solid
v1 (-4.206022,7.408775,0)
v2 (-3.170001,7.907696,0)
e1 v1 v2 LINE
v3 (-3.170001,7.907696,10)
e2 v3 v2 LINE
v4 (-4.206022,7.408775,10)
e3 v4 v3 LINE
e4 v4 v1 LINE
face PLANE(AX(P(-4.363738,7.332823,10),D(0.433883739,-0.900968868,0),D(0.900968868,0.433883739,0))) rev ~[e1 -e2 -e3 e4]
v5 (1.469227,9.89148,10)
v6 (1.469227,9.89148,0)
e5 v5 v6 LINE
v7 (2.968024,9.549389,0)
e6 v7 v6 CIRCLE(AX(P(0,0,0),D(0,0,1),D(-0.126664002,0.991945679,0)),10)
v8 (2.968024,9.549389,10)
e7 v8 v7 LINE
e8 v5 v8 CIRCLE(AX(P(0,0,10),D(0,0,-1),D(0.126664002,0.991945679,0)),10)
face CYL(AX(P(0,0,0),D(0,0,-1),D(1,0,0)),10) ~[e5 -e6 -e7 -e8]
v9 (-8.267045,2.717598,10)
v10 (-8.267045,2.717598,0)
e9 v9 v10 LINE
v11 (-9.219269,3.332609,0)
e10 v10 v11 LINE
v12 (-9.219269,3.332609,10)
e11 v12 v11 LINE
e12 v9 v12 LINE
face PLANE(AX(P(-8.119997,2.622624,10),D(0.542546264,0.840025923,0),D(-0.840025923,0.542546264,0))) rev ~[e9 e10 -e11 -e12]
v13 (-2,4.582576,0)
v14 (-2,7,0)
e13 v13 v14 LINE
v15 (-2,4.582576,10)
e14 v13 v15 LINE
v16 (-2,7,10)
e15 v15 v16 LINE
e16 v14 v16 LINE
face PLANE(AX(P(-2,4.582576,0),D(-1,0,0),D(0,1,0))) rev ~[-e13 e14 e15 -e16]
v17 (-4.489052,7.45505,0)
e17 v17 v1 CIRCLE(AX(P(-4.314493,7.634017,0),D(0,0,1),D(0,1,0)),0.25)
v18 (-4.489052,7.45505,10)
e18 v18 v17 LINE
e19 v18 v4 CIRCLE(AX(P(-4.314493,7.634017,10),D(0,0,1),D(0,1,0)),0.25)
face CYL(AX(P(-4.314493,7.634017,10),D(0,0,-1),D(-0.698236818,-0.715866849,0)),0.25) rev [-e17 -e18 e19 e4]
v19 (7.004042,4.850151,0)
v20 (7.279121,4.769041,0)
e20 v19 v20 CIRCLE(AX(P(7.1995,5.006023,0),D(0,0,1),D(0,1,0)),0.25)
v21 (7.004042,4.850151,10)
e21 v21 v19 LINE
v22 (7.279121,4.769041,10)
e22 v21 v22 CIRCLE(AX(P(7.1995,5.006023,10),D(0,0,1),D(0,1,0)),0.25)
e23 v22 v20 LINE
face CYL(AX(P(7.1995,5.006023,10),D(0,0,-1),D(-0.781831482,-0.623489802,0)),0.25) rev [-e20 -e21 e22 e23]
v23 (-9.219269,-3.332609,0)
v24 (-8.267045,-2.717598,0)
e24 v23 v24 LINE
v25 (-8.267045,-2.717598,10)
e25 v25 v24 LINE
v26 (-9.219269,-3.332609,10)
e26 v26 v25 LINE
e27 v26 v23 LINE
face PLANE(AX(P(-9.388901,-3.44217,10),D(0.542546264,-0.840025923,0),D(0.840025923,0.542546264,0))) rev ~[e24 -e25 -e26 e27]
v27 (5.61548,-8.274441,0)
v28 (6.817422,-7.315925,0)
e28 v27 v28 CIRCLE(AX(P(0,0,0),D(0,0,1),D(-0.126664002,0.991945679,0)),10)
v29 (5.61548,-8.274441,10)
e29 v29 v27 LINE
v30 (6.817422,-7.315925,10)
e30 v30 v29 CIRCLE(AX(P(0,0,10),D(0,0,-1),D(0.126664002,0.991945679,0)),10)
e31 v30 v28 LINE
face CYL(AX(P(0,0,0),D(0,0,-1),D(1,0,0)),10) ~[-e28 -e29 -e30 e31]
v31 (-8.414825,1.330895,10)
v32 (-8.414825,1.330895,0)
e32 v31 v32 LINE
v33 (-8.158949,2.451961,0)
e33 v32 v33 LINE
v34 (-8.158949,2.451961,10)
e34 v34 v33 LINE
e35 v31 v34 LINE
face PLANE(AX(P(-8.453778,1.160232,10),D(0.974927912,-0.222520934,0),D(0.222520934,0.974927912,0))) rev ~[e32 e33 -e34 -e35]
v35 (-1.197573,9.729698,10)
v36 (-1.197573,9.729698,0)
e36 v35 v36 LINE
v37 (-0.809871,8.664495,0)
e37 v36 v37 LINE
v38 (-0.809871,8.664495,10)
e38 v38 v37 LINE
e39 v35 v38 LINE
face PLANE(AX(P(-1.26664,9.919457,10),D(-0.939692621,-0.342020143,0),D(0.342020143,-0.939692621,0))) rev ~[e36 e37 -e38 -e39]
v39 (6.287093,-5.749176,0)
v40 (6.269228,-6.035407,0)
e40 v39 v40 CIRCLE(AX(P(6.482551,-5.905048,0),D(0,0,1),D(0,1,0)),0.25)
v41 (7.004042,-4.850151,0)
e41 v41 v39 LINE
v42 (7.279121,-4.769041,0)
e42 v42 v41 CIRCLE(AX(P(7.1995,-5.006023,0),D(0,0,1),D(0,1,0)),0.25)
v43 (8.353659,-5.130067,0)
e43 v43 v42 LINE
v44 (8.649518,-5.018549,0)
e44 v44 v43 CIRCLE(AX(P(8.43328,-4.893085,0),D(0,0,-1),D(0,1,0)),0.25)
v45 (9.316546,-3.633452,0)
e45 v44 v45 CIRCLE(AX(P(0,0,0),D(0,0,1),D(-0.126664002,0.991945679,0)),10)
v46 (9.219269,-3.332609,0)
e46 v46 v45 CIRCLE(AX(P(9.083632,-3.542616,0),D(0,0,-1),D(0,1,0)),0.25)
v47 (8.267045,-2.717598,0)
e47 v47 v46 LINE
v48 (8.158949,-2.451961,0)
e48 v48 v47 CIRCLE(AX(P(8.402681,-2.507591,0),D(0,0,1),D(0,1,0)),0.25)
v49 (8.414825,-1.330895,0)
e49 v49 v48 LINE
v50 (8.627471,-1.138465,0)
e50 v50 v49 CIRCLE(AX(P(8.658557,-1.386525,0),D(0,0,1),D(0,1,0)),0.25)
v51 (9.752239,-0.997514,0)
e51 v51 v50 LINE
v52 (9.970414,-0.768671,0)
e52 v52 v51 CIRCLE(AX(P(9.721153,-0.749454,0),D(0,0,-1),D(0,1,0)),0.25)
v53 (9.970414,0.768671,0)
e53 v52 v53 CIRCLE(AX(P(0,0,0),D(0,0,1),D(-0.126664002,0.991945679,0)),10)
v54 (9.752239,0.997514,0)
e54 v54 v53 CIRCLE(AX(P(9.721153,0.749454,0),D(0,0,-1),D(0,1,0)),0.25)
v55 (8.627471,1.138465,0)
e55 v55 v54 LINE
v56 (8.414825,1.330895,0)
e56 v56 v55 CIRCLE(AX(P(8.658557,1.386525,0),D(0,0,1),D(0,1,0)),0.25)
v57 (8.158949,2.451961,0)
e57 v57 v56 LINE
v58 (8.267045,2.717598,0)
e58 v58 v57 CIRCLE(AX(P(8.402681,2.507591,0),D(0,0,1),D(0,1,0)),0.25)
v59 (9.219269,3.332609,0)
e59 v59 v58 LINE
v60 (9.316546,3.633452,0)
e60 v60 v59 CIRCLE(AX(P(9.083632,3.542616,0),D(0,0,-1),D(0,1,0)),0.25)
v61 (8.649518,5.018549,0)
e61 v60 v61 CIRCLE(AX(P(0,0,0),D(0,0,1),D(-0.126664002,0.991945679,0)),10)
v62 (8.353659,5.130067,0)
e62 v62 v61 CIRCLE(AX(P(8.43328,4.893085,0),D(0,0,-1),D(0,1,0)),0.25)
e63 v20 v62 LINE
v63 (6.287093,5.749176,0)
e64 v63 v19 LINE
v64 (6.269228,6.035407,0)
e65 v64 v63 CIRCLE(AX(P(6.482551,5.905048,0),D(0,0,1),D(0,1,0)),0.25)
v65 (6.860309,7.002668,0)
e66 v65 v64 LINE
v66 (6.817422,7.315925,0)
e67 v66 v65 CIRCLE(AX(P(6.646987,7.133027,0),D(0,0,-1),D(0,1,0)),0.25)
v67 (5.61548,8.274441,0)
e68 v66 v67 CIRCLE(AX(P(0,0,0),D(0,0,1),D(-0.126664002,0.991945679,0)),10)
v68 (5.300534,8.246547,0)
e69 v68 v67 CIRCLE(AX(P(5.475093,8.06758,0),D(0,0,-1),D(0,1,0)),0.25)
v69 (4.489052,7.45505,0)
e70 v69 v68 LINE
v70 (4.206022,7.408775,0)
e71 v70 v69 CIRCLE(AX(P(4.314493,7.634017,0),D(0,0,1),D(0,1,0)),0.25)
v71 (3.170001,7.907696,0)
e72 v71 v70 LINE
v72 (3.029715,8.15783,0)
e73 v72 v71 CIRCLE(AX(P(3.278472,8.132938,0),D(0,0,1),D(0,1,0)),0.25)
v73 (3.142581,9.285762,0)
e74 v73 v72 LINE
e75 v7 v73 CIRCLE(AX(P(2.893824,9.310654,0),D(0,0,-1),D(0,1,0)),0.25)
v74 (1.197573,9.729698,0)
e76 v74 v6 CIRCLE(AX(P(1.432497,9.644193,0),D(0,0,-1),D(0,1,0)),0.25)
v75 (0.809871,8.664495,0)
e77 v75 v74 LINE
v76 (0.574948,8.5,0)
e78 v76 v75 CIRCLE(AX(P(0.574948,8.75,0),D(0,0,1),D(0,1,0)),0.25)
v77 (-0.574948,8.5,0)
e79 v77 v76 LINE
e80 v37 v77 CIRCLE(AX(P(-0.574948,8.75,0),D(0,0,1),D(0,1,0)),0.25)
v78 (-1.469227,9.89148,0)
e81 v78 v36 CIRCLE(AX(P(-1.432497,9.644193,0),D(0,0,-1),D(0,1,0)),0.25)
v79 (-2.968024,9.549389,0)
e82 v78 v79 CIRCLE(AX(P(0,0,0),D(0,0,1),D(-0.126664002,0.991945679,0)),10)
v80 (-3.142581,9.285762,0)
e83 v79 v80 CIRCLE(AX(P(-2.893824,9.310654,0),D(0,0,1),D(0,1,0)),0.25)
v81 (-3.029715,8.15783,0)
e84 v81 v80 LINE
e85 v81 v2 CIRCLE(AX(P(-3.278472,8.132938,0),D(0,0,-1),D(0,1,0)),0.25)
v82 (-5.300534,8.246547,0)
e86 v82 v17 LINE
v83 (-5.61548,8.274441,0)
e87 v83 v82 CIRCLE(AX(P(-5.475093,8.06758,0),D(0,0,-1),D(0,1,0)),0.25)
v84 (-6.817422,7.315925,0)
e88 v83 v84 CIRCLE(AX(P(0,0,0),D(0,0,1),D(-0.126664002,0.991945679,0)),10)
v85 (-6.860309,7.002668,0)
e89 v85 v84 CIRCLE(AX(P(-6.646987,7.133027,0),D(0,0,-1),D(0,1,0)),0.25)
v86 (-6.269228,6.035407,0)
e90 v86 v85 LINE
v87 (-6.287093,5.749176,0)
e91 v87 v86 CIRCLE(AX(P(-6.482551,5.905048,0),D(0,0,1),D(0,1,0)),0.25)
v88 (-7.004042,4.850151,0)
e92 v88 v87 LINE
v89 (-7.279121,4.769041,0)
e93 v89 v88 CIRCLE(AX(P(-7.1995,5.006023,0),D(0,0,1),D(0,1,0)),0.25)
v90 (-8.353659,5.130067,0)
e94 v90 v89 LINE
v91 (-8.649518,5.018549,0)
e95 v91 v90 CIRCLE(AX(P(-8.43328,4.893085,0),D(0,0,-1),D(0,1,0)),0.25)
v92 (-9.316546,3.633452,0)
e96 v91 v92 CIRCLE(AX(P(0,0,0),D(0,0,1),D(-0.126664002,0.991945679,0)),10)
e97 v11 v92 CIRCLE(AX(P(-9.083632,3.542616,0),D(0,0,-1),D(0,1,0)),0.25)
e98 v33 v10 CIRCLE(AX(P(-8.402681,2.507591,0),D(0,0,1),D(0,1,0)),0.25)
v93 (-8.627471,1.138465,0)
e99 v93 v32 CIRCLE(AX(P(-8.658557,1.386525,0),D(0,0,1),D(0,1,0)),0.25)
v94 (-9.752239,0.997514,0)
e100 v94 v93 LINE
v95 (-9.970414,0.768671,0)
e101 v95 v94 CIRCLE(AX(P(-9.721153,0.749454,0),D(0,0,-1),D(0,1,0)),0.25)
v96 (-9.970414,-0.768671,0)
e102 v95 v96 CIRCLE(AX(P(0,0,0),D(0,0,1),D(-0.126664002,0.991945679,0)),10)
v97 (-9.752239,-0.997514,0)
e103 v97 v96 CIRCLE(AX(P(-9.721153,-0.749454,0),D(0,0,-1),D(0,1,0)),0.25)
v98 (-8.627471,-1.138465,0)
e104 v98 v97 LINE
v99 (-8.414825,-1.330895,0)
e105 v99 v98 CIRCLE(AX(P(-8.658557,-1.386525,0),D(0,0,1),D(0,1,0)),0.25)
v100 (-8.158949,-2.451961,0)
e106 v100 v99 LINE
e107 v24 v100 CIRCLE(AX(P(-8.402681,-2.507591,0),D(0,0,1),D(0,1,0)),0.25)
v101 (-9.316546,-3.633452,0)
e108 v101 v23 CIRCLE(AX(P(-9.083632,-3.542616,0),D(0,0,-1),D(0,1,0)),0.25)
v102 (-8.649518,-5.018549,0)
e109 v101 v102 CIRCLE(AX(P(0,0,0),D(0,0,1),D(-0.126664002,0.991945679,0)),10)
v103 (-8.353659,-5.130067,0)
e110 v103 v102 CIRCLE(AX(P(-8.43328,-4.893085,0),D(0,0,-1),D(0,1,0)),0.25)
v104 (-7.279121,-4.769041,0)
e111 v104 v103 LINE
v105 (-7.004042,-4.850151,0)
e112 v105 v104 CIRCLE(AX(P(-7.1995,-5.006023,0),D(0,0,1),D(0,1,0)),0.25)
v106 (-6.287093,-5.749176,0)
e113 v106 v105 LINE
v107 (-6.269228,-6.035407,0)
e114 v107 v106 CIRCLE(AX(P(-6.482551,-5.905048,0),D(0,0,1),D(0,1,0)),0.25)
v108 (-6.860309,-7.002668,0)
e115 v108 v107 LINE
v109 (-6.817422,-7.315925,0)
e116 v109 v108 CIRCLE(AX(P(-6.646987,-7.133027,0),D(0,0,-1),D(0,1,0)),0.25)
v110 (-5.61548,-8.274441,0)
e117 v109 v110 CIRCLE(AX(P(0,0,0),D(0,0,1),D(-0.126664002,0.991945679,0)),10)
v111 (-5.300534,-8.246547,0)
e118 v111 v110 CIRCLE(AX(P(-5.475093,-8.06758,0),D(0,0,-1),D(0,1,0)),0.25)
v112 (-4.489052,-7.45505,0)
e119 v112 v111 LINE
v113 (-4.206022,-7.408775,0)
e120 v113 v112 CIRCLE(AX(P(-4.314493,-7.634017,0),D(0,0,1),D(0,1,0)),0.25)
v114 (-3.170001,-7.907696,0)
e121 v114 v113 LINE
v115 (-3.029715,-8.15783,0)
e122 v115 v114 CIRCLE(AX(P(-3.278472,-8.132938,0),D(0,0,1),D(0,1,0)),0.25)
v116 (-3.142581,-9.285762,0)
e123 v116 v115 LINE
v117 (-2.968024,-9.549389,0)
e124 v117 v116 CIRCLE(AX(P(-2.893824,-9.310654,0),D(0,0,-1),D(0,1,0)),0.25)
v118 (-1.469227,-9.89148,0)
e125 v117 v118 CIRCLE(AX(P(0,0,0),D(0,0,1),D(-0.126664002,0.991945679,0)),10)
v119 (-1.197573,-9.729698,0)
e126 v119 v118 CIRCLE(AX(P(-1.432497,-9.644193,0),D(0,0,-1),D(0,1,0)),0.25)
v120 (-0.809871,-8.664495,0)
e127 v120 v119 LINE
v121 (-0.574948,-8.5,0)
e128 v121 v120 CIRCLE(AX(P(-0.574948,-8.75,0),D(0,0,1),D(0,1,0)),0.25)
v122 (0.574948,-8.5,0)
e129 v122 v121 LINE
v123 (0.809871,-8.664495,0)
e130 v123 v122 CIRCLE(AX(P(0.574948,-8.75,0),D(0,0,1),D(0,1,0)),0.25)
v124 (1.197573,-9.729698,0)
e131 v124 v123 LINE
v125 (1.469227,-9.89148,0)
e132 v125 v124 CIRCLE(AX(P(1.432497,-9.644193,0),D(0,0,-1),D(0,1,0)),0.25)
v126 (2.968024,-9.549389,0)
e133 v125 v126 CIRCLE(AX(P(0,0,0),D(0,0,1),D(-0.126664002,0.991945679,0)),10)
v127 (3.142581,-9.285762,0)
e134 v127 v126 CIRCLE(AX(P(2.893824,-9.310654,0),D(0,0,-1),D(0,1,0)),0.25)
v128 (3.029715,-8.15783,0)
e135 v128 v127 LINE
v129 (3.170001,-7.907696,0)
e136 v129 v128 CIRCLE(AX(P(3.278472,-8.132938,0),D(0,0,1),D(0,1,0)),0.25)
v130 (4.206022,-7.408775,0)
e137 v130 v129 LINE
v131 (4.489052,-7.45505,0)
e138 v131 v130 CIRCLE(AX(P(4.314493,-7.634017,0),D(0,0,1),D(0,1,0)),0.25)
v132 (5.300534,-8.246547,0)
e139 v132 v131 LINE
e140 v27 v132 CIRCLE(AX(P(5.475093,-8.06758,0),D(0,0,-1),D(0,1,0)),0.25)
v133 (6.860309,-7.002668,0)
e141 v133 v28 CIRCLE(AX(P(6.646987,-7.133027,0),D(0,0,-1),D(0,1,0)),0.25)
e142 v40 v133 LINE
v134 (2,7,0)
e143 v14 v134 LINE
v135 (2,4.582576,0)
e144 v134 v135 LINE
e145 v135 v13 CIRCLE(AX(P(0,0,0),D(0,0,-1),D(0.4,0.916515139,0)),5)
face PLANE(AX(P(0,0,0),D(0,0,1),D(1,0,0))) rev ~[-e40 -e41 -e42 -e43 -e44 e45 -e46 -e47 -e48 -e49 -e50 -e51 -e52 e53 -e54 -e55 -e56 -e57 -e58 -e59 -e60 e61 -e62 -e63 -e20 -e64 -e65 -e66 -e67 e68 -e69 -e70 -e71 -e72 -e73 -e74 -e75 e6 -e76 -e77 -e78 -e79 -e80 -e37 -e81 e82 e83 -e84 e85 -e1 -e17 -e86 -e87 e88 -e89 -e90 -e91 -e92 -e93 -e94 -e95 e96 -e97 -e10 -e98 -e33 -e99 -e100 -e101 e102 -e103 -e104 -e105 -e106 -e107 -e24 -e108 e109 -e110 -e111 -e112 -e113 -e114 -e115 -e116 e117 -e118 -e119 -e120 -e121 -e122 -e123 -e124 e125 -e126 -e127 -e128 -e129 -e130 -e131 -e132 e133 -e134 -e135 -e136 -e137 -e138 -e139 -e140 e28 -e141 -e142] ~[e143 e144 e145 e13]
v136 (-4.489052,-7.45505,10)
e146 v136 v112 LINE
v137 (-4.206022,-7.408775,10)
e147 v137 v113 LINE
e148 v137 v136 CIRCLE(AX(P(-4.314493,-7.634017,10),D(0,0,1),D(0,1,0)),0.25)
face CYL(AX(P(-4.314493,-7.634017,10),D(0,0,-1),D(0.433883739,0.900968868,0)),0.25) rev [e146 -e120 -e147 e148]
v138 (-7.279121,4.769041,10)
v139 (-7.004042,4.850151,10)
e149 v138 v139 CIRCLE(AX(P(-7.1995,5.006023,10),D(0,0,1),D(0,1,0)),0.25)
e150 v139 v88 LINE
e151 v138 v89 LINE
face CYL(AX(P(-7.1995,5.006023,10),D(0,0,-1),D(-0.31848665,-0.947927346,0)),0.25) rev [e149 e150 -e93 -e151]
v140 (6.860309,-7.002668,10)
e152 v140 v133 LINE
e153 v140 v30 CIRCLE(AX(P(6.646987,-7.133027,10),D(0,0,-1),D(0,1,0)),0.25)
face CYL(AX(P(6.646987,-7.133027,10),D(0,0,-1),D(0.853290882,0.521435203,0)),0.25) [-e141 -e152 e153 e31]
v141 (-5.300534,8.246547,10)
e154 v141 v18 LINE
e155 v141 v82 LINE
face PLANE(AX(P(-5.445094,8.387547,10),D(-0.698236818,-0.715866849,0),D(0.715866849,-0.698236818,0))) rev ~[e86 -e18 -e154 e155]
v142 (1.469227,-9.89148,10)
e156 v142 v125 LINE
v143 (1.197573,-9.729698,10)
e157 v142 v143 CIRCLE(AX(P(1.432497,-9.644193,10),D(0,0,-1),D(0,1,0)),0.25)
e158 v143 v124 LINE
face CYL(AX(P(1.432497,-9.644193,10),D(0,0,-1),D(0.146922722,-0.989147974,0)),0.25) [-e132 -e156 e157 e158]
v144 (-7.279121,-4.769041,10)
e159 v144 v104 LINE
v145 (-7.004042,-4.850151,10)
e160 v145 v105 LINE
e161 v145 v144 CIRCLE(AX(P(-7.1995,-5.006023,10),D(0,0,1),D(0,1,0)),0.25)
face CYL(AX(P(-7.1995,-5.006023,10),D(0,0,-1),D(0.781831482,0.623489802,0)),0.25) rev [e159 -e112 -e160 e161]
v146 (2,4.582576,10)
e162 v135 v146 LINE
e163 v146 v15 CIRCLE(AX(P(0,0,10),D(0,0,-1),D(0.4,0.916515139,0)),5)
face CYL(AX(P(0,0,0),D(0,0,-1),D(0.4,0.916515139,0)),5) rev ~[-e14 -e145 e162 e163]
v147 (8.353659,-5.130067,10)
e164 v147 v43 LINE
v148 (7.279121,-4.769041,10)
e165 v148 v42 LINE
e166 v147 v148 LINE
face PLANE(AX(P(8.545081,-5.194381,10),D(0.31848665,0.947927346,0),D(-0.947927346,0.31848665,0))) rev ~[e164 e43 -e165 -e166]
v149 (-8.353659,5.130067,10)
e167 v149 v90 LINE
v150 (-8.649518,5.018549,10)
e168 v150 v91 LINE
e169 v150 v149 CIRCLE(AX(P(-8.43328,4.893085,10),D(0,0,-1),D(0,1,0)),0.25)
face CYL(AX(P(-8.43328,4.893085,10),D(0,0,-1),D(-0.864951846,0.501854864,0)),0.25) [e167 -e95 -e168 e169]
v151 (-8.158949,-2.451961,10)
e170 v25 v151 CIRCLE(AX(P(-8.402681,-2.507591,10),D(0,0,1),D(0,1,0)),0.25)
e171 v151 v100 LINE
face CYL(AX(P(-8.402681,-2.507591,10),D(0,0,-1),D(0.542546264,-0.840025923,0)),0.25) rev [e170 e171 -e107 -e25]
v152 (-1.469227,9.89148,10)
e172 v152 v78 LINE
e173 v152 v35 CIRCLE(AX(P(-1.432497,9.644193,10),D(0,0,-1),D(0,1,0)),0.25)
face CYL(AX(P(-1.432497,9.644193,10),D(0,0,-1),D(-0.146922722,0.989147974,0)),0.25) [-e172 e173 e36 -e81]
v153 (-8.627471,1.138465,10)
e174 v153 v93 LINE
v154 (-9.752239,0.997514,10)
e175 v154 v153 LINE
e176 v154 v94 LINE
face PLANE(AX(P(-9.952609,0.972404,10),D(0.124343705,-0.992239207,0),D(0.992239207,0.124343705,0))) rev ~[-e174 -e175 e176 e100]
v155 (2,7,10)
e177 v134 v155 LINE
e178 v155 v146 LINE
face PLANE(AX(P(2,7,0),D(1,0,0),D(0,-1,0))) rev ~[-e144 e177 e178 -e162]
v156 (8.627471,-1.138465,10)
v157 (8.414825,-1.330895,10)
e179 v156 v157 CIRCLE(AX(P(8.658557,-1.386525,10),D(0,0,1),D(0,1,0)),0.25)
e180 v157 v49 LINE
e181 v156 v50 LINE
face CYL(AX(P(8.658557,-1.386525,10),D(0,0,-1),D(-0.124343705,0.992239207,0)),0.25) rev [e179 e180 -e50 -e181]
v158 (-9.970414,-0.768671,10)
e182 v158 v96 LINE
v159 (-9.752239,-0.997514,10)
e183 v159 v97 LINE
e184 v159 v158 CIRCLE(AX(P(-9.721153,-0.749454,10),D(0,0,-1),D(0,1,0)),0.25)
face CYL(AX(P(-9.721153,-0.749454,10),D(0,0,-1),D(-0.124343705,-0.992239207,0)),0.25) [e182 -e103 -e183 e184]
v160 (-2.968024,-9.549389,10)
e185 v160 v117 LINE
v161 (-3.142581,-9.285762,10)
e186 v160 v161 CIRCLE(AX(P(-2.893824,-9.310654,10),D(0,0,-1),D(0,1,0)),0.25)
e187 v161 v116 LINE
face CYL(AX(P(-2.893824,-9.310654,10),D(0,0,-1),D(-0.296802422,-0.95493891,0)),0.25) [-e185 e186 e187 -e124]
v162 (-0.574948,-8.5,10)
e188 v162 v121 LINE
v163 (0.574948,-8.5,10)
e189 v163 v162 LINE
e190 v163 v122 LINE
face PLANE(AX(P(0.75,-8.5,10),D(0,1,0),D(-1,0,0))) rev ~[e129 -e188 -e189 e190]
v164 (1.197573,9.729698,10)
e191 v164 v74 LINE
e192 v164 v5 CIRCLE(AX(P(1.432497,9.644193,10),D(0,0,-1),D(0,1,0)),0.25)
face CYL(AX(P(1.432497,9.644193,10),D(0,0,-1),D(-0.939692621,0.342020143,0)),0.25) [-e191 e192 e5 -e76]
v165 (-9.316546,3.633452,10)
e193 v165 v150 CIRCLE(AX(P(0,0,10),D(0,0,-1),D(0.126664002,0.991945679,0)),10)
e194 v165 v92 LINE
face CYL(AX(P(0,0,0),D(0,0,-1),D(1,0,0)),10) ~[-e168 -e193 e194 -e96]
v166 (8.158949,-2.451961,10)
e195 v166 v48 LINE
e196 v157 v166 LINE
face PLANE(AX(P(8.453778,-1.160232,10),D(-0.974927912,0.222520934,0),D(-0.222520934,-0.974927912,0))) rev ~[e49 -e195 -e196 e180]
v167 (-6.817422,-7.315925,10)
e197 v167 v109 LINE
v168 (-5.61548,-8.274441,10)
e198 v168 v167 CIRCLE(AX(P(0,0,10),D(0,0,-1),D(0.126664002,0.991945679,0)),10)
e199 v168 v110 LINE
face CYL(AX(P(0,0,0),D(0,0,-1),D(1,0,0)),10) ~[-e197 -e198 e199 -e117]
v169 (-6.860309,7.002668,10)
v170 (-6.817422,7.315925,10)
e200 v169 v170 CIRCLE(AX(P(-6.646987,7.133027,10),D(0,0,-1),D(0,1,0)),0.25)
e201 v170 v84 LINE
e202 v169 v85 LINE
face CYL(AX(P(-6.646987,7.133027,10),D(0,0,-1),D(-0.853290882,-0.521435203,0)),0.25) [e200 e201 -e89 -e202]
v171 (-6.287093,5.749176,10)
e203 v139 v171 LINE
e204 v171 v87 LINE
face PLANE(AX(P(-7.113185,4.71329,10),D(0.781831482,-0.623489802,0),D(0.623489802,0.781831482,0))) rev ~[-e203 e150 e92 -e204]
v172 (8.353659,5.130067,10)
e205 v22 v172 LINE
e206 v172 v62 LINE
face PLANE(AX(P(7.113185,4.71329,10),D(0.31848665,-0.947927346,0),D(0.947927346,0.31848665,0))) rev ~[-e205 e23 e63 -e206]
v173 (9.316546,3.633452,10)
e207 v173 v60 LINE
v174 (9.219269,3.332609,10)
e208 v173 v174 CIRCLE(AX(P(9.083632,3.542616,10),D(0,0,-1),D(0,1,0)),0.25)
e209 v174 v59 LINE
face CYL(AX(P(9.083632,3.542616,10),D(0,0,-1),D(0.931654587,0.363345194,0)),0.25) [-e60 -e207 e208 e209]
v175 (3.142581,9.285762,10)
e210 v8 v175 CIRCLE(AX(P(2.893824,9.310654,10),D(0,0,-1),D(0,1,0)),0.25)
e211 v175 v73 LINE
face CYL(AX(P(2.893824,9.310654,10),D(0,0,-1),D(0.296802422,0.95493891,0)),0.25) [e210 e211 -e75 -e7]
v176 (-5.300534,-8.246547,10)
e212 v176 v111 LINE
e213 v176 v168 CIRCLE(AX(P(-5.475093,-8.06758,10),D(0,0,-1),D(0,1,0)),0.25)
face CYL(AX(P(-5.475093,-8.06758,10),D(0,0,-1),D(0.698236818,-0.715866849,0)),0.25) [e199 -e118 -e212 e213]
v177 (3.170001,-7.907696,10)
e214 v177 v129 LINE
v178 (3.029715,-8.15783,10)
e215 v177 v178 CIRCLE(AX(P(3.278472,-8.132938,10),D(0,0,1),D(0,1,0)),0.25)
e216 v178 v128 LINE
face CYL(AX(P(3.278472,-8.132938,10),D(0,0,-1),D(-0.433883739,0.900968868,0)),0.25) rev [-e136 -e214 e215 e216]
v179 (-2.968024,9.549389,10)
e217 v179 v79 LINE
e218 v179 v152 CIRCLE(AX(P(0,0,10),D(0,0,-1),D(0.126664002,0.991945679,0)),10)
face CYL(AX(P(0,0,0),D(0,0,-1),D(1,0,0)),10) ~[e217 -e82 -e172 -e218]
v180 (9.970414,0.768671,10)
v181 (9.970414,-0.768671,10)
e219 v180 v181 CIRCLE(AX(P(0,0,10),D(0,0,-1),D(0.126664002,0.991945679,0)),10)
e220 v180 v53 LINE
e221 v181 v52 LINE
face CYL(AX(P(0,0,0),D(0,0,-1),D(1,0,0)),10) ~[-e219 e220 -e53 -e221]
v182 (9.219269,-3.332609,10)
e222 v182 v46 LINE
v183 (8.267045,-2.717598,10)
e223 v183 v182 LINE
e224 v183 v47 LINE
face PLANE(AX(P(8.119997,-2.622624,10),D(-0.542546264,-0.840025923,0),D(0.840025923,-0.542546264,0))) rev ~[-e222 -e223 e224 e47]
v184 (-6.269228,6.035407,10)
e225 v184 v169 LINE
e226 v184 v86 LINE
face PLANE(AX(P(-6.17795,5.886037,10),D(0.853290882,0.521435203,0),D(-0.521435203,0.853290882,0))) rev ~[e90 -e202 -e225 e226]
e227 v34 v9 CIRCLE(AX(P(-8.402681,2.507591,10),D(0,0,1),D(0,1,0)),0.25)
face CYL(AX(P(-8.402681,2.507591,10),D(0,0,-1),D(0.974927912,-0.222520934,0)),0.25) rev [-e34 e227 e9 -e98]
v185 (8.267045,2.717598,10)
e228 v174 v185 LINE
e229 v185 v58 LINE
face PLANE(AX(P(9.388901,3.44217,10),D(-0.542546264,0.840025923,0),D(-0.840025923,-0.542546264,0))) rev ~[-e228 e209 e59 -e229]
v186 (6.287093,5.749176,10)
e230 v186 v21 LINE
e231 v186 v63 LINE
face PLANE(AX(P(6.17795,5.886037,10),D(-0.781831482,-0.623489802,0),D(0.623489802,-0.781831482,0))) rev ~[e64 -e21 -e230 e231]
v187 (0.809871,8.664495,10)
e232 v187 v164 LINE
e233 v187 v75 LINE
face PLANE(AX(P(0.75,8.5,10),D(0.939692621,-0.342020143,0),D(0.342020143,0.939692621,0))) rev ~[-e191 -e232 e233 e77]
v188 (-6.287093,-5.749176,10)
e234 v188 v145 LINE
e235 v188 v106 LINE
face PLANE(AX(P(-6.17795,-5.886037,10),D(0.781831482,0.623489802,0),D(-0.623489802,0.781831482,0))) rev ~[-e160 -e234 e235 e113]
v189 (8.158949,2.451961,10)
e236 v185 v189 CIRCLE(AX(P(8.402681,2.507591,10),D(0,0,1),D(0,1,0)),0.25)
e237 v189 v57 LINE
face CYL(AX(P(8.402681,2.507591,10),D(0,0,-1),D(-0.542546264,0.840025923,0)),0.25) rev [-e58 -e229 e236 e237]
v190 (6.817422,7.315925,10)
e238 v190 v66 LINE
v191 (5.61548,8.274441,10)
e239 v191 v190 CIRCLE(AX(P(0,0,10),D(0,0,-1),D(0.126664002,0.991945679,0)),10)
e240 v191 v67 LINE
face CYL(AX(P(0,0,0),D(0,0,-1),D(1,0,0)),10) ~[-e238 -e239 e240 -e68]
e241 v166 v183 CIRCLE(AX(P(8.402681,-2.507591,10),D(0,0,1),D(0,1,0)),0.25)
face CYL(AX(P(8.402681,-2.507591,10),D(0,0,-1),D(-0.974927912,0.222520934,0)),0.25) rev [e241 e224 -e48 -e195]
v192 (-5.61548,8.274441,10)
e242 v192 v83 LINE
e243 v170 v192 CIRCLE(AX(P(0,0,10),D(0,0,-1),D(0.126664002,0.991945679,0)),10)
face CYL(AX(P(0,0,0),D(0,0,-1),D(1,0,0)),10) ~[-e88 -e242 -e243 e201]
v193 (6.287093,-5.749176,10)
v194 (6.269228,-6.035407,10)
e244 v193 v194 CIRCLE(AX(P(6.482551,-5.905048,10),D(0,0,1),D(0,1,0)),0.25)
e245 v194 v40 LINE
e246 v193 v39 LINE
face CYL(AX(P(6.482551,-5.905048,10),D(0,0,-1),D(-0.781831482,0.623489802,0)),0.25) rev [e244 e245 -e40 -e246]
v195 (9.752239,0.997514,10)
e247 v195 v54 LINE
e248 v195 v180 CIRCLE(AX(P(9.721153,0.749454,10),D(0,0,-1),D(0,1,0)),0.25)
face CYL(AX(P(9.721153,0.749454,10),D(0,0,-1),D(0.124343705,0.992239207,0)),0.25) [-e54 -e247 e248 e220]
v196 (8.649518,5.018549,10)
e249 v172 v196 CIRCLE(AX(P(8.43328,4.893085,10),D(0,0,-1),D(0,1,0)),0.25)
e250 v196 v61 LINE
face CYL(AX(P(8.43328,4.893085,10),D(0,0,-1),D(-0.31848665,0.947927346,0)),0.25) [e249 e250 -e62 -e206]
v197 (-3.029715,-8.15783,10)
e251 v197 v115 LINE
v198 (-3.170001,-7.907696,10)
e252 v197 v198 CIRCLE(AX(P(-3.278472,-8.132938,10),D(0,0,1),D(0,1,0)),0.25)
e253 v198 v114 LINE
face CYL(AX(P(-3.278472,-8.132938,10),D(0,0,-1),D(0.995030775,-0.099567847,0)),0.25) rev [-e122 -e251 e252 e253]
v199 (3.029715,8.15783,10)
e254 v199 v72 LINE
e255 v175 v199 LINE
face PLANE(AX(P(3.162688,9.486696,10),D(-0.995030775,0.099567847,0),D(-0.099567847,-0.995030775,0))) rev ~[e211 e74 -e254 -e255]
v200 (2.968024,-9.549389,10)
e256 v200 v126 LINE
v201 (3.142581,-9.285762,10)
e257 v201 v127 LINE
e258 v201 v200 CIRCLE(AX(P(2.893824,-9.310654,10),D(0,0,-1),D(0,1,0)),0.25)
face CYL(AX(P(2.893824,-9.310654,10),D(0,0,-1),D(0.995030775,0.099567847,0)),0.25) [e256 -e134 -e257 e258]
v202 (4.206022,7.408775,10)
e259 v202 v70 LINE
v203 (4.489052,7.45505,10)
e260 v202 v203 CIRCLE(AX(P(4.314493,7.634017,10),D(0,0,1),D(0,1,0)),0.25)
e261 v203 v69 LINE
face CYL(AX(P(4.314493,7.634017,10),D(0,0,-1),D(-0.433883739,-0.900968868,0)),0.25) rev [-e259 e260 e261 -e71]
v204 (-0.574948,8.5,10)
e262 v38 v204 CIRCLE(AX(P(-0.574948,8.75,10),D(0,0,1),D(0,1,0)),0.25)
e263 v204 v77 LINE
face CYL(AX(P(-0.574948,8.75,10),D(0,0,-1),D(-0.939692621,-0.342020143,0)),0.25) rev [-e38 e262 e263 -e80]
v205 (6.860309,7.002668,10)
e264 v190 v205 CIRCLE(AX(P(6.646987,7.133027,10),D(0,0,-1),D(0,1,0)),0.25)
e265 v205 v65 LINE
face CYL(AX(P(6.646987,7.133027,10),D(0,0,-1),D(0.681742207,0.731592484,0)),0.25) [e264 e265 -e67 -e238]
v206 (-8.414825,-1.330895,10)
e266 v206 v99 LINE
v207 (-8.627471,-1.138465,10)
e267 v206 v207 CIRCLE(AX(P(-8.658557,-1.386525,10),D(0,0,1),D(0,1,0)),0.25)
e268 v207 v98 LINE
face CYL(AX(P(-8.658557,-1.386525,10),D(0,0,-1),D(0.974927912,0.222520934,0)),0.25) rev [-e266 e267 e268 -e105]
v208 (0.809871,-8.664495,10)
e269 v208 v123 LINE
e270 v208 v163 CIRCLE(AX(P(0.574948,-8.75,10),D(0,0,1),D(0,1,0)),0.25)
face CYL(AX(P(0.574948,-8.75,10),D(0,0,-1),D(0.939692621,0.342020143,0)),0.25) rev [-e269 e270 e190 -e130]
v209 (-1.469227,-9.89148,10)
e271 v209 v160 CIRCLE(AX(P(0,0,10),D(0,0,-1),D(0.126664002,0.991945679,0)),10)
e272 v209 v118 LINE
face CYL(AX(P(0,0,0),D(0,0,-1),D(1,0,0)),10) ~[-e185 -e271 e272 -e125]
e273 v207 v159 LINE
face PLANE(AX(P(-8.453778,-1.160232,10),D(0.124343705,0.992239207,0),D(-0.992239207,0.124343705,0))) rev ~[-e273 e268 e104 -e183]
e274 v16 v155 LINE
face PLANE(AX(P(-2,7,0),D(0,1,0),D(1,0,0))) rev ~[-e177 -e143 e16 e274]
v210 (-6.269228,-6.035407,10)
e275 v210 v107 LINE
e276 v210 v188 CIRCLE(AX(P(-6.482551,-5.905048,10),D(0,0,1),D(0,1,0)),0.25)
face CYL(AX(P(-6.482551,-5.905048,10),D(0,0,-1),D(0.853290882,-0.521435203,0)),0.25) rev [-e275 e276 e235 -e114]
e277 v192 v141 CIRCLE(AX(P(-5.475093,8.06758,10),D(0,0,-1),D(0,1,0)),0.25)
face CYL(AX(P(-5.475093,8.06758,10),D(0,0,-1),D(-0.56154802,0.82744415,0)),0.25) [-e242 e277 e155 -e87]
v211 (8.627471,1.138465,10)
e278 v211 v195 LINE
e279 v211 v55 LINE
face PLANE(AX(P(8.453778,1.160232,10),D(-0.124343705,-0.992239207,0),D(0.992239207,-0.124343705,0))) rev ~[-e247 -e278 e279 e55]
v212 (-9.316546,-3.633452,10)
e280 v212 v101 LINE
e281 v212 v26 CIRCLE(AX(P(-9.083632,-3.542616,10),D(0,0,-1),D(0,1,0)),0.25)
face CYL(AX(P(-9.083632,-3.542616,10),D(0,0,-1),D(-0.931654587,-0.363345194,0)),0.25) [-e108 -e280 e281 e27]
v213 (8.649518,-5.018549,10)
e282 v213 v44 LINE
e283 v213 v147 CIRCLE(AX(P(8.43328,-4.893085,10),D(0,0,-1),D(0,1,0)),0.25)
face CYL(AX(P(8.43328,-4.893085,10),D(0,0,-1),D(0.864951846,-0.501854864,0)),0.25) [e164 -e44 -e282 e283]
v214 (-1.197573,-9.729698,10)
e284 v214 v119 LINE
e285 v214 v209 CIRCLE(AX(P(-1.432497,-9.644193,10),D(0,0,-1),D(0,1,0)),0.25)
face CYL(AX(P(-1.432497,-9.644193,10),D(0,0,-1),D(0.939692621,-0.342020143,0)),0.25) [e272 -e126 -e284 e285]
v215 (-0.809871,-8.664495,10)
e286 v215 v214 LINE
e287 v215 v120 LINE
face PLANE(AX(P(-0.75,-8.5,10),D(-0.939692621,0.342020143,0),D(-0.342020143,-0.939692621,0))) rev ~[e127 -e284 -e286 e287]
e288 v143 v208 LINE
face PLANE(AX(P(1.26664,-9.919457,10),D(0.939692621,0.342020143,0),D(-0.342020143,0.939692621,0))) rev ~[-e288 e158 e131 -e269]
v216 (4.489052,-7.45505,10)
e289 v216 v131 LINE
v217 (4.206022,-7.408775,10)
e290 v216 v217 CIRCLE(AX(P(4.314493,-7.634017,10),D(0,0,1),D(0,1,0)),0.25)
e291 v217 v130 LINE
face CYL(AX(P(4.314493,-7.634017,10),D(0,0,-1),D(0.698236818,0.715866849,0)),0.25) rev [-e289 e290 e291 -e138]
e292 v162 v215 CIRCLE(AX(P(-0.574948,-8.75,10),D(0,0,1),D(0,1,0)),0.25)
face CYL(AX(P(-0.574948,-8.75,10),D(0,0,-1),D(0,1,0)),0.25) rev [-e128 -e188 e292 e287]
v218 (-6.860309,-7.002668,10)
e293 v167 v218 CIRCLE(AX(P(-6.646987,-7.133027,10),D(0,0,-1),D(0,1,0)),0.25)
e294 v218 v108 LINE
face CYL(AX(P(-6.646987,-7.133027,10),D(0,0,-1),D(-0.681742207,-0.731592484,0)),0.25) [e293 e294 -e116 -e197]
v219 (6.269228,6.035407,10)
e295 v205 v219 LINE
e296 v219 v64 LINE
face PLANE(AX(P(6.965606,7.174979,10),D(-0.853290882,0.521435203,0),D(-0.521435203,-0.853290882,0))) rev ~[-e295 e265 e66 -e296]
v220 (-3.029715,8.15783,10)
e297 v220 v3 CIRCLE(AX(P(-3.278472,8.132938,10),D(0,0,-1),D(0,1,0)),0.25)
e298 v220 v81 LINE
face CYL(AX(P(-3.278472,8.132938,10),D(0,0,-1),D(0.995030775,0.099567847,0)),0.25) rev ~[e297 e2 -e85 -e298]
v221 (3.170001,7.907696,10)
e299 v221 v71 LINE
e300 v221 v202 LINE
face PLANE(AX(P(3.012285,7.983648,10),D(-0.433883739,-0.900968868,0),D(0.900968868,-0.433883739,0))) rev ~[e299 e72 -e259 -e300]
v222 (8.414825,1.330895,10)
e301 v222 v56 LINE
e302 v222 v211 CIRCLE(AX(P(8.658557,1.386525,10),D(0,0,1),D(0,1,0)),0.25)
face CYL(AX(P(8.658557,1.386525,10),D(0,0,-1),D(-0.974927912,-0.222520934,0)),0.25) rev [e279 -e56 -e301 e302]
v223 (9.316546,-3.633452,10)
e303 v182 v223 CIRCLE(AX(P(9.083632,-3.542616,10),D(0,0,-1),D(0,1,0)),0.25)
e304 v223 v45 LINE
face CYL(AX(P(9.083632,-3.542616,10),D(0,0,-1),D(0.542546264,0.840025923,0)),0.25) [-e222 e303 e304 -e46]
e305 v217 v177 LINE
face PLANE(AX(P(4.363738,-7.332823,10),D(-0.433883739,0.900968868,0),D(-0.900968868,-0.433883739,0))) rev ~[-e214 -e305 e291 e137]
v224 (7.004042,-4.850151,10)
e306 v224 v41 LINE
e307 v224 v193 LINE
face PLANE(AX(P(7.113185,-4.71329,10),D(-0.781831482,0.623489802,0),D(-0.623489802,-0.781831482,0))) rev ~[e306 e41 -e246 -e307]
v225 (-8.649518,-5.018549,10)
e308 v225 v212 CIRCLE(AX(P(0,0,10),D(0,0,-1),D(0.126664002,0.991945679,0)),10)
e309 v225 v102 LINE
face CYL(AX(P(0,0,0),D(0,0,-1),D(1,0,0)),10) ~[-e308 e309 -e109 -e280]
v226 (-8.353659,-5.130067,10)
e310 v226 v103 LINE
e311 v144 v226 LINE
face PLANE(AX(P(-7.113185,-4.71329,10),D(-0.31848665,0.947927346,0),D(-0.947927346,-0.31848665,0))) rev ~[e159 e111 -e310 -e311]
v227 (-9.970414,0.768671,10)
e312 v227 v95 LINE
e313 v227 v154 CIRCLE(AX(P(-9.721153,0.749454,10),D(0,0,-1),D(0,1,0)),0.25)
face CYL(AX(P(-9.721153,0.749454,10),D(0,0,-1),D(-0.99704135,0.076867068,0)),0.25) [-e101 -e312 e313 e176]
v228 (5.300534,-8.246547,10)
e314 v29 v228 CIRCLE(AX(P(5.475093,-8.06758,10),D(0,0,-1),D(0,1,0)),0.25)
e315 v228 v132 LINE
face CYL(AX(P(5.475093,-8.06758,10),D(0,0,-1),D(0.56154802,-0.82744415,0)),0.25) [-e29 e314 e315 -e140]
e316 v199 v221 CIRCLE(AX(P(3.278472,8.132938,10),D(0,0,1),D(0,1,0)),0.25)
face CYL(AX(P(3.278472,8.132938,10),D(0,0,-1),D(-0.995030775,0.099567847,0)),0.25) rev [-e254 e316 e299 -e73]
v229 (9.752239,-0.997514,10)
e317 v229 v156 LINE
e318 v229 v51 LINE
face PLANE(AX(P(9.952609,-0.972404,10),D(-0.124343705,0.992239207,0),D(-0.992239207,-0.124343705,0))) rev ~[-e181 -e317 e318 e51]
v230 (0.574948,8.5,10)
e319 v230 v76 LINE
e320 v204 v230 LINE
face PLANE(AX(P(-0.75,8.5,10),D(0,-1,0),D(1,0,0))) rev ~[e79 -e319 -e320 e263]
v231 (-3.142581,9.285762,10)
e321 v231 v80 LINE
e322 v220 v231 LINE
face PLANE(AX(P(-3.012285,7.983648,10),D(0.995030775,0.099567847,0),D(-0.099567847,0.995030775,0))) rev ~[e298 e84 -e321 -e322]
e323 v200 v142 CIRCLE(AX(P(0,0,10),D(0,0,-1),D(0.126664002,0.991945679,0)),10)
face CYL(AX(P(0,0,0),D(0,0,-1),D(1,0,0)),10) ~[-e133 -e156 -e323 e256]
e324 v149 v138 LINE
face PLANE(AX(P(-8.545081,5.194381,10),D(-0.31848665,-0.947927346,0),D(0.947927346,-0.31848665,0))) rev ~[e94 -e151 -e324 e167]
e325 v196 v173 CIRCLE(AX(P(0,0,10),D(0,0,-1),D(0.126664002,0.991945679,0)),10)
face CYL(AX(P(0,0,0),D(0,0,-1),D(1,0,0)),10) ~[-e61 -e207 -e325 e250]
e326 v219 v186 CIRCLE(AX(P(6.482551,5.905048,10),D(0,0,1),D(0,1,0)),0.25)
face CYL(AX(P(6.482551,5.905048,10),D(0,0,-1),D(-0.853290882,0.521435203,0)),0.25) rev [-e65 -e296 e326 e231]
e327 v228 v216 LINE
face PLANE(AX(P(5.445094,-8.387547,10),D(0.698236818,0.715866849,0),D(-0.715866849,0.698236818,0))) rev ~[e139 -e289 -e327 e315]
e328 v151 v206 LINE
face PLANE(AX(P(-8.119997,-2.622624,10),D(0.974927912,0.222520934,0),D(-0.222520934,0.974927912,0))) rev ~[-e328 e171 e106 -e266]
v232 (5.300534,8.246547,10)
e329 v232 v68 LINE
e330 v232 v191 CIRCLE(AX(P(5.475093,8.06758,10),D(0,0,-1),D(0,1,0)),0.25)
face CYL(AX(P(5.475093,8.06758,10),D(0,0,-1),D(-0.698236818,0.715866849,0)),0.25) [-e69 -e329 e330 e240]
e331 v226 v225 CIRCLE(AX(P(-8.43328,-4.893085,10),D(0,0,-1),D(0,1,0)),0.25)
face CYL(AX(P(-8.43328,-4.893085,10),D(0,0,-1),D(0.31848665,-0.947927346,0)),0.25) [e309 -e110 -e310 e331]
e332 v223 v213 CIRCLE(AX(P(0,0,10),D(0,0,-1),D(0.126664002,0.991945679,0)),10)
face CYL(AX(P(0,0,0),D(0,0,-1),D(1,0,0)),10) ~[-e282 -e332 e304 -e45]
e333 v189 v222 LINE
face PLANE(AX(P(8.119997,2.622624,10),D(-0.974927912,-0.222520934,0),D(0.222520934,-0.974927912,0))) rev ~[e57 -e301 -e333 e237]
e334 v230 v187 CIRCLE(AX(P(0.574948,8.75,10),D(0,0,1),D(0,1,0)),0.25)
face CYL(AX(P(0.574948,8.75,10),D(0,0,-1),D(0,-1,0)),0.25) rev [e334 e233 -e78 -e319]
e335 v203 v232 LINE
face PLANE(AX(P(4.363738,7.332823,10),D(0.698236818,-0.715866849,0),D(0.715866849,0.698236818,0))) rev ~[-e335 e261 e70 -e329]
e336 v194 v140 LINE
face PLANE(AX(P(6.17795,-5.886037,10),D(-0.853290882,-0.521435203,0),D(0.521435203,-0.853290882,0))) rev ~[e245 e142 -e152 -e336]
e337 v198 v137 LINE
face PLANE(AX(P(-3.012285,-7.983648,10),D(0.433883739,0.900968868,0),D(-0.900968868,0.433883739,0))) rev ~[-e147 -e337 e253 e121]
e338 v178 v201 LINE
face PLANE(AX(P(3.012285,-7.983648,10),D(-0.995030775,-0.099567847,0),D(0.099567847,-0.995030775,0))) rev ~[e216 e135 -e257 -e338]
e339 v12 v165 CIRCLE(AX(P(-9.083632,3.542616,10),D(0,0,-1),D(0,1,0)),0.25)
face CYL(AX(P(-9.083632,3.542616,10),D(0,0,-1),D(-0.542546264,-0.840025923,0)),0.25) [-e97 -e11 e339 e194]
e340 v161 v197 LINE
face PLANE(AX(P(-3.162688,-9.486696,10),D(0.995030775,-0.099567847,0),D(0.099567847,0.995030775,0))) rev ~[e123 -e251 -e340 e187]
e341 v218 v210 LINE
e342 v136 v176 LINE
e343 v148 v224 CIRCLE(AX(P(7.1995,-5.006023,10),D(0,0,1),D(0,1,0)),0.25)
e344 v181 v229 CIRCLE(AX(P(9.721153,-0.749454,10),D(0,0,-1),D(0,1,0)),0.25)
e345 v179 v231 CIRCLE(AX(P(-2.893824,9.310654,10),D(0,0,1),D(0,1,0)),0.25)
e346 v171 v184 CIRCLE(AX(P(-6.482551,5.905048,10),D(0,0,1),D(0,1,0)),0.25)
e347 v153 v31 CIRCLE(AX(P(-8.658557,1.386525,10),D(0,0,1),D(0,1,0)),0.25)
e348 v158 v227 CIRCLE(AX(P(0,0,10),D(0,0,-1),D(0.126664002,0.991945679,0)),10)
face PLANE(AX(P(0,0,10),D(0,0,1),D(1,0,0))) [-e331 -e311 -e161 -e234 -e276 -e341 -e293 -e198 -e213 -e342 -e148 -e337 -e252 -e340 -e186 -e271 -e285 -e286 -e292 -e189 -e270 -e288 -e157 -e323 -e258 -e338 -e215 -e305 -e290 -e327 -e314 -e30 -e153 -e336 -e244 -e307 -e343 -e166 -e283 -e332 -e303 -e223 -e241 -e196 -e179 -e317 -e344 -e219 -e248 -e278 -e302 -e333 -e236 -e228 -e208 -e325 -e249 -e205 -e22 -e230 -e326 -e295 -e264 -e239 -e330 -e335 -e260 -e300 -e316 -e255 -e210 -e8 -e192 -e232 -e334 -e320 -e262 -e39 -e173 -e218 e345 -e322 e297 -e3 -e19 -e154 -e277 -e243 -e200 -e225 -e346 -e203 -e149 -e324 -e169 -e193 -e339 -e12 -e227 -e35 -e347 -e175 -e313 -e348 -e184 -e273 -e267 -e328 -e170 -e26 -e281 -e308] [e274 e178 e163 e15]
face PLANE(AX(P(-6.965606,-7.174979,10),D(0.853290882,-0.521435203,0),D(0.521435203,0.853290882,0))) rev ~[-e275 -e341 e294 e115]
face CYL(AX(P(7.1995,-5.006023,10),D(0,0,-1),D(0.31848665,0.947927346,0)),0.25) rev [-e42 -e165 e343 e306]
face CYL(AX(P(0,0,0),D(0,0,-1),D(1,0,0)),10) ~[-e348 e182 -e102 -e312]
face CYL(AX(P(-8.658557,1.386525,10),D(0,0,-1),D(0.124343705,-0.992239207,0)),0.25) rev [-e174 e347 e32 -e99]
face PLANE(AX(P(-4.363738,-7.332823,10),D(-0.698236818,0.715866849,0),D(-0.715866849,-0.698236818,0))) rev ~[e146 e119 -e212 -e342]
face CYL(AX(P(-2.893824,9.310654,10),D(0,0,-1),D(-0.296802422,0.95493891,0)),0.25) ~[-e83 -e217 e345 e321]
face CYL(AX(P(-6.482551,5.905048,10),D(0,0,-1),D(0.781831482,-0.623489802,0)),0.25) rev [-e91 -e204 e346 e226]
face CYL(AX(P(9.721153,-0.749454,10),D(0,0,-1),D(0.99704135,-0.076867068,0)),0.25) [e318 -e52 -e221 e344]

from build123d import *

# Parameters (mm, degrees)
SKETCH1_R           = 10
BOSS_EXTRUDE1_DEPTH = 10
CUT_EXTRUDE1_DEPTH  = 11
CIRPATTERN1_COUNT   = 14
FILLET1_R           = 0.25


with BuildPart() as part:
    # Sketch1 → Boss-Extrude1 (new body)
    with BuildSketch(Plane.XY):
        Circle(SKETCH1_R)
        with BuildLine():
            Line((-2, 7), (2, 7))
            Line((2, 7), (2, 4.582575695))
            ThreePointArc((2, 4.582575695), (0, -5), (-2, 4.582575695))
            Line((-2, 4.582575695), (-2, 7))
        make_face(mode=Mode.SUBTRACT)
    extrude(amount=BOSS_EXTRUDE1_DEPTH)

    # Sketch2 → Cut-Extrude1 (cut, through all)
    with BuildSketch(Plane.XY.offset(10)):
        Polygon((-20.341084154, 62.326061337), (-1.266640021, 9.919456792), (-0.75, 8.5), (0.75, 8.5), (1.266640021, 9.919456792), (20.341084154, 62.326061337), (20.341084154, 173.86594871), (-20.341084154, 173.86594871), align=None)
    cut_extrude1 = extrude(amount=-CUT_EXTRUDE1_DEPTH, mode=Mode.SUBTRACT)

    # CirPattern1: Cut-Extrude1 ×14 about axis
    cirpattern1_axis = Axis((0, 0, 0), (0, 0, 1))
    for i in range(1, CIRPATTERN1_COUNT):
        add(cut_extrude1.rotate(cirpattern1_axis, i * 360 / CIRPATTERN1_COUNT), mode=Mode.SUBTRACT)

    # Fillet1
    fillet1_edges = [part.edges().sort_by_distance(p)[0] for p in [
        (-8.119996553, 2.622623873, 5),
        (-8.453777954, 1.160232004, 5),
        (-9.952609221, 0.972404078, 5),
        (-9.38890138, 3.442169501, 5),
        (-8.453777954, -1.160232004, 5),
        (-8.119996553, -2.622623873, 5),
        (-9.38890138, -3.442169501, 5),
        (-9.952609221, -0.972404078, 5),
        (-7.113184952, -4.713289704, 5),
        (-6.17795025, -5.886036928, 5),
        (-6.965606473, -7.174979196, 5),
        (-8.545080745, -5.194381104, 5),
        (-4.363738433, -7.332822573, 5),
        (-3.012285132, -7.983648182, 5),
        (-3.162687777, -9.486696265, 5),
        (-5.445094229, -8.387547248, 5),
        (-0.75, -8.5, 5),
        (0.75, -8.5, 5),
        (1.266640021, -9.919456792, 5),
        (-1.266640021, -9.919456792, 5),
        (3.012285132, -7.983648182, 5),
        (4.363738433, -7.332822573, 5),
        (5.445094229, -8.387547248, 5),
        (3.162687777, -9.486696265, 5),
        (6.17795025, -5.886036928, 5),
        (7.113184952, -4.713289704, 5),
        (8.545080745, -5.194381104, 5),
        (6.965606473, -7.174979196, 5),
        (8.119996553, -2.622623873, 5),
        (8.453777954, -1.160232004, 5),
        (9.952609221, -0.972404078, 5),
        (9.38890138, -3.442169501, 5),
        (8.453777954, 1.160232004, 5),
        (8.119996553, 2.622623873, 5),
        (9.38890138, 3.442169501, 5),
        (9.952609221, 0.972404078, 5),
        (7.113184952, 4.713289704, 5),
        (6.17795025, 5.886036928, 5),
        (6.965606473, 7.174979196, 5),
        (8.545080745, 5.194381104, 5),
        (4.363738433, 7.332822573, 5),
        (3.012285132, 7.983648182, 5),
        (3.162687777, 9.486696265, 5),
        (5.445094229, 8.387547248, 5),
        (-3.012285132, 7.983648182, 5),
        (-4.363738433, 7.332822573, 5),
        (-5.445094229, 8.387547248, 5),
        (-3.162687777, 9.486696265, 5),
        (0.75, 8.5, 5),
        (-0.75, 8.5, 5),
        (-1.266640021, 9.919456792, 5),
        (1.266640021, 9.919456792, 5),
        (-6.17795025, 5.886036928, 5),
        (-7.113184952, 4.713289704, 5),
        (-8.545080745, 5.194381104, 5),
        (-6.965606473, 7.174979196, 5),
    ]]
    fillet(fillet1_edges, radius=FILLET1_R)


solid = part.part
